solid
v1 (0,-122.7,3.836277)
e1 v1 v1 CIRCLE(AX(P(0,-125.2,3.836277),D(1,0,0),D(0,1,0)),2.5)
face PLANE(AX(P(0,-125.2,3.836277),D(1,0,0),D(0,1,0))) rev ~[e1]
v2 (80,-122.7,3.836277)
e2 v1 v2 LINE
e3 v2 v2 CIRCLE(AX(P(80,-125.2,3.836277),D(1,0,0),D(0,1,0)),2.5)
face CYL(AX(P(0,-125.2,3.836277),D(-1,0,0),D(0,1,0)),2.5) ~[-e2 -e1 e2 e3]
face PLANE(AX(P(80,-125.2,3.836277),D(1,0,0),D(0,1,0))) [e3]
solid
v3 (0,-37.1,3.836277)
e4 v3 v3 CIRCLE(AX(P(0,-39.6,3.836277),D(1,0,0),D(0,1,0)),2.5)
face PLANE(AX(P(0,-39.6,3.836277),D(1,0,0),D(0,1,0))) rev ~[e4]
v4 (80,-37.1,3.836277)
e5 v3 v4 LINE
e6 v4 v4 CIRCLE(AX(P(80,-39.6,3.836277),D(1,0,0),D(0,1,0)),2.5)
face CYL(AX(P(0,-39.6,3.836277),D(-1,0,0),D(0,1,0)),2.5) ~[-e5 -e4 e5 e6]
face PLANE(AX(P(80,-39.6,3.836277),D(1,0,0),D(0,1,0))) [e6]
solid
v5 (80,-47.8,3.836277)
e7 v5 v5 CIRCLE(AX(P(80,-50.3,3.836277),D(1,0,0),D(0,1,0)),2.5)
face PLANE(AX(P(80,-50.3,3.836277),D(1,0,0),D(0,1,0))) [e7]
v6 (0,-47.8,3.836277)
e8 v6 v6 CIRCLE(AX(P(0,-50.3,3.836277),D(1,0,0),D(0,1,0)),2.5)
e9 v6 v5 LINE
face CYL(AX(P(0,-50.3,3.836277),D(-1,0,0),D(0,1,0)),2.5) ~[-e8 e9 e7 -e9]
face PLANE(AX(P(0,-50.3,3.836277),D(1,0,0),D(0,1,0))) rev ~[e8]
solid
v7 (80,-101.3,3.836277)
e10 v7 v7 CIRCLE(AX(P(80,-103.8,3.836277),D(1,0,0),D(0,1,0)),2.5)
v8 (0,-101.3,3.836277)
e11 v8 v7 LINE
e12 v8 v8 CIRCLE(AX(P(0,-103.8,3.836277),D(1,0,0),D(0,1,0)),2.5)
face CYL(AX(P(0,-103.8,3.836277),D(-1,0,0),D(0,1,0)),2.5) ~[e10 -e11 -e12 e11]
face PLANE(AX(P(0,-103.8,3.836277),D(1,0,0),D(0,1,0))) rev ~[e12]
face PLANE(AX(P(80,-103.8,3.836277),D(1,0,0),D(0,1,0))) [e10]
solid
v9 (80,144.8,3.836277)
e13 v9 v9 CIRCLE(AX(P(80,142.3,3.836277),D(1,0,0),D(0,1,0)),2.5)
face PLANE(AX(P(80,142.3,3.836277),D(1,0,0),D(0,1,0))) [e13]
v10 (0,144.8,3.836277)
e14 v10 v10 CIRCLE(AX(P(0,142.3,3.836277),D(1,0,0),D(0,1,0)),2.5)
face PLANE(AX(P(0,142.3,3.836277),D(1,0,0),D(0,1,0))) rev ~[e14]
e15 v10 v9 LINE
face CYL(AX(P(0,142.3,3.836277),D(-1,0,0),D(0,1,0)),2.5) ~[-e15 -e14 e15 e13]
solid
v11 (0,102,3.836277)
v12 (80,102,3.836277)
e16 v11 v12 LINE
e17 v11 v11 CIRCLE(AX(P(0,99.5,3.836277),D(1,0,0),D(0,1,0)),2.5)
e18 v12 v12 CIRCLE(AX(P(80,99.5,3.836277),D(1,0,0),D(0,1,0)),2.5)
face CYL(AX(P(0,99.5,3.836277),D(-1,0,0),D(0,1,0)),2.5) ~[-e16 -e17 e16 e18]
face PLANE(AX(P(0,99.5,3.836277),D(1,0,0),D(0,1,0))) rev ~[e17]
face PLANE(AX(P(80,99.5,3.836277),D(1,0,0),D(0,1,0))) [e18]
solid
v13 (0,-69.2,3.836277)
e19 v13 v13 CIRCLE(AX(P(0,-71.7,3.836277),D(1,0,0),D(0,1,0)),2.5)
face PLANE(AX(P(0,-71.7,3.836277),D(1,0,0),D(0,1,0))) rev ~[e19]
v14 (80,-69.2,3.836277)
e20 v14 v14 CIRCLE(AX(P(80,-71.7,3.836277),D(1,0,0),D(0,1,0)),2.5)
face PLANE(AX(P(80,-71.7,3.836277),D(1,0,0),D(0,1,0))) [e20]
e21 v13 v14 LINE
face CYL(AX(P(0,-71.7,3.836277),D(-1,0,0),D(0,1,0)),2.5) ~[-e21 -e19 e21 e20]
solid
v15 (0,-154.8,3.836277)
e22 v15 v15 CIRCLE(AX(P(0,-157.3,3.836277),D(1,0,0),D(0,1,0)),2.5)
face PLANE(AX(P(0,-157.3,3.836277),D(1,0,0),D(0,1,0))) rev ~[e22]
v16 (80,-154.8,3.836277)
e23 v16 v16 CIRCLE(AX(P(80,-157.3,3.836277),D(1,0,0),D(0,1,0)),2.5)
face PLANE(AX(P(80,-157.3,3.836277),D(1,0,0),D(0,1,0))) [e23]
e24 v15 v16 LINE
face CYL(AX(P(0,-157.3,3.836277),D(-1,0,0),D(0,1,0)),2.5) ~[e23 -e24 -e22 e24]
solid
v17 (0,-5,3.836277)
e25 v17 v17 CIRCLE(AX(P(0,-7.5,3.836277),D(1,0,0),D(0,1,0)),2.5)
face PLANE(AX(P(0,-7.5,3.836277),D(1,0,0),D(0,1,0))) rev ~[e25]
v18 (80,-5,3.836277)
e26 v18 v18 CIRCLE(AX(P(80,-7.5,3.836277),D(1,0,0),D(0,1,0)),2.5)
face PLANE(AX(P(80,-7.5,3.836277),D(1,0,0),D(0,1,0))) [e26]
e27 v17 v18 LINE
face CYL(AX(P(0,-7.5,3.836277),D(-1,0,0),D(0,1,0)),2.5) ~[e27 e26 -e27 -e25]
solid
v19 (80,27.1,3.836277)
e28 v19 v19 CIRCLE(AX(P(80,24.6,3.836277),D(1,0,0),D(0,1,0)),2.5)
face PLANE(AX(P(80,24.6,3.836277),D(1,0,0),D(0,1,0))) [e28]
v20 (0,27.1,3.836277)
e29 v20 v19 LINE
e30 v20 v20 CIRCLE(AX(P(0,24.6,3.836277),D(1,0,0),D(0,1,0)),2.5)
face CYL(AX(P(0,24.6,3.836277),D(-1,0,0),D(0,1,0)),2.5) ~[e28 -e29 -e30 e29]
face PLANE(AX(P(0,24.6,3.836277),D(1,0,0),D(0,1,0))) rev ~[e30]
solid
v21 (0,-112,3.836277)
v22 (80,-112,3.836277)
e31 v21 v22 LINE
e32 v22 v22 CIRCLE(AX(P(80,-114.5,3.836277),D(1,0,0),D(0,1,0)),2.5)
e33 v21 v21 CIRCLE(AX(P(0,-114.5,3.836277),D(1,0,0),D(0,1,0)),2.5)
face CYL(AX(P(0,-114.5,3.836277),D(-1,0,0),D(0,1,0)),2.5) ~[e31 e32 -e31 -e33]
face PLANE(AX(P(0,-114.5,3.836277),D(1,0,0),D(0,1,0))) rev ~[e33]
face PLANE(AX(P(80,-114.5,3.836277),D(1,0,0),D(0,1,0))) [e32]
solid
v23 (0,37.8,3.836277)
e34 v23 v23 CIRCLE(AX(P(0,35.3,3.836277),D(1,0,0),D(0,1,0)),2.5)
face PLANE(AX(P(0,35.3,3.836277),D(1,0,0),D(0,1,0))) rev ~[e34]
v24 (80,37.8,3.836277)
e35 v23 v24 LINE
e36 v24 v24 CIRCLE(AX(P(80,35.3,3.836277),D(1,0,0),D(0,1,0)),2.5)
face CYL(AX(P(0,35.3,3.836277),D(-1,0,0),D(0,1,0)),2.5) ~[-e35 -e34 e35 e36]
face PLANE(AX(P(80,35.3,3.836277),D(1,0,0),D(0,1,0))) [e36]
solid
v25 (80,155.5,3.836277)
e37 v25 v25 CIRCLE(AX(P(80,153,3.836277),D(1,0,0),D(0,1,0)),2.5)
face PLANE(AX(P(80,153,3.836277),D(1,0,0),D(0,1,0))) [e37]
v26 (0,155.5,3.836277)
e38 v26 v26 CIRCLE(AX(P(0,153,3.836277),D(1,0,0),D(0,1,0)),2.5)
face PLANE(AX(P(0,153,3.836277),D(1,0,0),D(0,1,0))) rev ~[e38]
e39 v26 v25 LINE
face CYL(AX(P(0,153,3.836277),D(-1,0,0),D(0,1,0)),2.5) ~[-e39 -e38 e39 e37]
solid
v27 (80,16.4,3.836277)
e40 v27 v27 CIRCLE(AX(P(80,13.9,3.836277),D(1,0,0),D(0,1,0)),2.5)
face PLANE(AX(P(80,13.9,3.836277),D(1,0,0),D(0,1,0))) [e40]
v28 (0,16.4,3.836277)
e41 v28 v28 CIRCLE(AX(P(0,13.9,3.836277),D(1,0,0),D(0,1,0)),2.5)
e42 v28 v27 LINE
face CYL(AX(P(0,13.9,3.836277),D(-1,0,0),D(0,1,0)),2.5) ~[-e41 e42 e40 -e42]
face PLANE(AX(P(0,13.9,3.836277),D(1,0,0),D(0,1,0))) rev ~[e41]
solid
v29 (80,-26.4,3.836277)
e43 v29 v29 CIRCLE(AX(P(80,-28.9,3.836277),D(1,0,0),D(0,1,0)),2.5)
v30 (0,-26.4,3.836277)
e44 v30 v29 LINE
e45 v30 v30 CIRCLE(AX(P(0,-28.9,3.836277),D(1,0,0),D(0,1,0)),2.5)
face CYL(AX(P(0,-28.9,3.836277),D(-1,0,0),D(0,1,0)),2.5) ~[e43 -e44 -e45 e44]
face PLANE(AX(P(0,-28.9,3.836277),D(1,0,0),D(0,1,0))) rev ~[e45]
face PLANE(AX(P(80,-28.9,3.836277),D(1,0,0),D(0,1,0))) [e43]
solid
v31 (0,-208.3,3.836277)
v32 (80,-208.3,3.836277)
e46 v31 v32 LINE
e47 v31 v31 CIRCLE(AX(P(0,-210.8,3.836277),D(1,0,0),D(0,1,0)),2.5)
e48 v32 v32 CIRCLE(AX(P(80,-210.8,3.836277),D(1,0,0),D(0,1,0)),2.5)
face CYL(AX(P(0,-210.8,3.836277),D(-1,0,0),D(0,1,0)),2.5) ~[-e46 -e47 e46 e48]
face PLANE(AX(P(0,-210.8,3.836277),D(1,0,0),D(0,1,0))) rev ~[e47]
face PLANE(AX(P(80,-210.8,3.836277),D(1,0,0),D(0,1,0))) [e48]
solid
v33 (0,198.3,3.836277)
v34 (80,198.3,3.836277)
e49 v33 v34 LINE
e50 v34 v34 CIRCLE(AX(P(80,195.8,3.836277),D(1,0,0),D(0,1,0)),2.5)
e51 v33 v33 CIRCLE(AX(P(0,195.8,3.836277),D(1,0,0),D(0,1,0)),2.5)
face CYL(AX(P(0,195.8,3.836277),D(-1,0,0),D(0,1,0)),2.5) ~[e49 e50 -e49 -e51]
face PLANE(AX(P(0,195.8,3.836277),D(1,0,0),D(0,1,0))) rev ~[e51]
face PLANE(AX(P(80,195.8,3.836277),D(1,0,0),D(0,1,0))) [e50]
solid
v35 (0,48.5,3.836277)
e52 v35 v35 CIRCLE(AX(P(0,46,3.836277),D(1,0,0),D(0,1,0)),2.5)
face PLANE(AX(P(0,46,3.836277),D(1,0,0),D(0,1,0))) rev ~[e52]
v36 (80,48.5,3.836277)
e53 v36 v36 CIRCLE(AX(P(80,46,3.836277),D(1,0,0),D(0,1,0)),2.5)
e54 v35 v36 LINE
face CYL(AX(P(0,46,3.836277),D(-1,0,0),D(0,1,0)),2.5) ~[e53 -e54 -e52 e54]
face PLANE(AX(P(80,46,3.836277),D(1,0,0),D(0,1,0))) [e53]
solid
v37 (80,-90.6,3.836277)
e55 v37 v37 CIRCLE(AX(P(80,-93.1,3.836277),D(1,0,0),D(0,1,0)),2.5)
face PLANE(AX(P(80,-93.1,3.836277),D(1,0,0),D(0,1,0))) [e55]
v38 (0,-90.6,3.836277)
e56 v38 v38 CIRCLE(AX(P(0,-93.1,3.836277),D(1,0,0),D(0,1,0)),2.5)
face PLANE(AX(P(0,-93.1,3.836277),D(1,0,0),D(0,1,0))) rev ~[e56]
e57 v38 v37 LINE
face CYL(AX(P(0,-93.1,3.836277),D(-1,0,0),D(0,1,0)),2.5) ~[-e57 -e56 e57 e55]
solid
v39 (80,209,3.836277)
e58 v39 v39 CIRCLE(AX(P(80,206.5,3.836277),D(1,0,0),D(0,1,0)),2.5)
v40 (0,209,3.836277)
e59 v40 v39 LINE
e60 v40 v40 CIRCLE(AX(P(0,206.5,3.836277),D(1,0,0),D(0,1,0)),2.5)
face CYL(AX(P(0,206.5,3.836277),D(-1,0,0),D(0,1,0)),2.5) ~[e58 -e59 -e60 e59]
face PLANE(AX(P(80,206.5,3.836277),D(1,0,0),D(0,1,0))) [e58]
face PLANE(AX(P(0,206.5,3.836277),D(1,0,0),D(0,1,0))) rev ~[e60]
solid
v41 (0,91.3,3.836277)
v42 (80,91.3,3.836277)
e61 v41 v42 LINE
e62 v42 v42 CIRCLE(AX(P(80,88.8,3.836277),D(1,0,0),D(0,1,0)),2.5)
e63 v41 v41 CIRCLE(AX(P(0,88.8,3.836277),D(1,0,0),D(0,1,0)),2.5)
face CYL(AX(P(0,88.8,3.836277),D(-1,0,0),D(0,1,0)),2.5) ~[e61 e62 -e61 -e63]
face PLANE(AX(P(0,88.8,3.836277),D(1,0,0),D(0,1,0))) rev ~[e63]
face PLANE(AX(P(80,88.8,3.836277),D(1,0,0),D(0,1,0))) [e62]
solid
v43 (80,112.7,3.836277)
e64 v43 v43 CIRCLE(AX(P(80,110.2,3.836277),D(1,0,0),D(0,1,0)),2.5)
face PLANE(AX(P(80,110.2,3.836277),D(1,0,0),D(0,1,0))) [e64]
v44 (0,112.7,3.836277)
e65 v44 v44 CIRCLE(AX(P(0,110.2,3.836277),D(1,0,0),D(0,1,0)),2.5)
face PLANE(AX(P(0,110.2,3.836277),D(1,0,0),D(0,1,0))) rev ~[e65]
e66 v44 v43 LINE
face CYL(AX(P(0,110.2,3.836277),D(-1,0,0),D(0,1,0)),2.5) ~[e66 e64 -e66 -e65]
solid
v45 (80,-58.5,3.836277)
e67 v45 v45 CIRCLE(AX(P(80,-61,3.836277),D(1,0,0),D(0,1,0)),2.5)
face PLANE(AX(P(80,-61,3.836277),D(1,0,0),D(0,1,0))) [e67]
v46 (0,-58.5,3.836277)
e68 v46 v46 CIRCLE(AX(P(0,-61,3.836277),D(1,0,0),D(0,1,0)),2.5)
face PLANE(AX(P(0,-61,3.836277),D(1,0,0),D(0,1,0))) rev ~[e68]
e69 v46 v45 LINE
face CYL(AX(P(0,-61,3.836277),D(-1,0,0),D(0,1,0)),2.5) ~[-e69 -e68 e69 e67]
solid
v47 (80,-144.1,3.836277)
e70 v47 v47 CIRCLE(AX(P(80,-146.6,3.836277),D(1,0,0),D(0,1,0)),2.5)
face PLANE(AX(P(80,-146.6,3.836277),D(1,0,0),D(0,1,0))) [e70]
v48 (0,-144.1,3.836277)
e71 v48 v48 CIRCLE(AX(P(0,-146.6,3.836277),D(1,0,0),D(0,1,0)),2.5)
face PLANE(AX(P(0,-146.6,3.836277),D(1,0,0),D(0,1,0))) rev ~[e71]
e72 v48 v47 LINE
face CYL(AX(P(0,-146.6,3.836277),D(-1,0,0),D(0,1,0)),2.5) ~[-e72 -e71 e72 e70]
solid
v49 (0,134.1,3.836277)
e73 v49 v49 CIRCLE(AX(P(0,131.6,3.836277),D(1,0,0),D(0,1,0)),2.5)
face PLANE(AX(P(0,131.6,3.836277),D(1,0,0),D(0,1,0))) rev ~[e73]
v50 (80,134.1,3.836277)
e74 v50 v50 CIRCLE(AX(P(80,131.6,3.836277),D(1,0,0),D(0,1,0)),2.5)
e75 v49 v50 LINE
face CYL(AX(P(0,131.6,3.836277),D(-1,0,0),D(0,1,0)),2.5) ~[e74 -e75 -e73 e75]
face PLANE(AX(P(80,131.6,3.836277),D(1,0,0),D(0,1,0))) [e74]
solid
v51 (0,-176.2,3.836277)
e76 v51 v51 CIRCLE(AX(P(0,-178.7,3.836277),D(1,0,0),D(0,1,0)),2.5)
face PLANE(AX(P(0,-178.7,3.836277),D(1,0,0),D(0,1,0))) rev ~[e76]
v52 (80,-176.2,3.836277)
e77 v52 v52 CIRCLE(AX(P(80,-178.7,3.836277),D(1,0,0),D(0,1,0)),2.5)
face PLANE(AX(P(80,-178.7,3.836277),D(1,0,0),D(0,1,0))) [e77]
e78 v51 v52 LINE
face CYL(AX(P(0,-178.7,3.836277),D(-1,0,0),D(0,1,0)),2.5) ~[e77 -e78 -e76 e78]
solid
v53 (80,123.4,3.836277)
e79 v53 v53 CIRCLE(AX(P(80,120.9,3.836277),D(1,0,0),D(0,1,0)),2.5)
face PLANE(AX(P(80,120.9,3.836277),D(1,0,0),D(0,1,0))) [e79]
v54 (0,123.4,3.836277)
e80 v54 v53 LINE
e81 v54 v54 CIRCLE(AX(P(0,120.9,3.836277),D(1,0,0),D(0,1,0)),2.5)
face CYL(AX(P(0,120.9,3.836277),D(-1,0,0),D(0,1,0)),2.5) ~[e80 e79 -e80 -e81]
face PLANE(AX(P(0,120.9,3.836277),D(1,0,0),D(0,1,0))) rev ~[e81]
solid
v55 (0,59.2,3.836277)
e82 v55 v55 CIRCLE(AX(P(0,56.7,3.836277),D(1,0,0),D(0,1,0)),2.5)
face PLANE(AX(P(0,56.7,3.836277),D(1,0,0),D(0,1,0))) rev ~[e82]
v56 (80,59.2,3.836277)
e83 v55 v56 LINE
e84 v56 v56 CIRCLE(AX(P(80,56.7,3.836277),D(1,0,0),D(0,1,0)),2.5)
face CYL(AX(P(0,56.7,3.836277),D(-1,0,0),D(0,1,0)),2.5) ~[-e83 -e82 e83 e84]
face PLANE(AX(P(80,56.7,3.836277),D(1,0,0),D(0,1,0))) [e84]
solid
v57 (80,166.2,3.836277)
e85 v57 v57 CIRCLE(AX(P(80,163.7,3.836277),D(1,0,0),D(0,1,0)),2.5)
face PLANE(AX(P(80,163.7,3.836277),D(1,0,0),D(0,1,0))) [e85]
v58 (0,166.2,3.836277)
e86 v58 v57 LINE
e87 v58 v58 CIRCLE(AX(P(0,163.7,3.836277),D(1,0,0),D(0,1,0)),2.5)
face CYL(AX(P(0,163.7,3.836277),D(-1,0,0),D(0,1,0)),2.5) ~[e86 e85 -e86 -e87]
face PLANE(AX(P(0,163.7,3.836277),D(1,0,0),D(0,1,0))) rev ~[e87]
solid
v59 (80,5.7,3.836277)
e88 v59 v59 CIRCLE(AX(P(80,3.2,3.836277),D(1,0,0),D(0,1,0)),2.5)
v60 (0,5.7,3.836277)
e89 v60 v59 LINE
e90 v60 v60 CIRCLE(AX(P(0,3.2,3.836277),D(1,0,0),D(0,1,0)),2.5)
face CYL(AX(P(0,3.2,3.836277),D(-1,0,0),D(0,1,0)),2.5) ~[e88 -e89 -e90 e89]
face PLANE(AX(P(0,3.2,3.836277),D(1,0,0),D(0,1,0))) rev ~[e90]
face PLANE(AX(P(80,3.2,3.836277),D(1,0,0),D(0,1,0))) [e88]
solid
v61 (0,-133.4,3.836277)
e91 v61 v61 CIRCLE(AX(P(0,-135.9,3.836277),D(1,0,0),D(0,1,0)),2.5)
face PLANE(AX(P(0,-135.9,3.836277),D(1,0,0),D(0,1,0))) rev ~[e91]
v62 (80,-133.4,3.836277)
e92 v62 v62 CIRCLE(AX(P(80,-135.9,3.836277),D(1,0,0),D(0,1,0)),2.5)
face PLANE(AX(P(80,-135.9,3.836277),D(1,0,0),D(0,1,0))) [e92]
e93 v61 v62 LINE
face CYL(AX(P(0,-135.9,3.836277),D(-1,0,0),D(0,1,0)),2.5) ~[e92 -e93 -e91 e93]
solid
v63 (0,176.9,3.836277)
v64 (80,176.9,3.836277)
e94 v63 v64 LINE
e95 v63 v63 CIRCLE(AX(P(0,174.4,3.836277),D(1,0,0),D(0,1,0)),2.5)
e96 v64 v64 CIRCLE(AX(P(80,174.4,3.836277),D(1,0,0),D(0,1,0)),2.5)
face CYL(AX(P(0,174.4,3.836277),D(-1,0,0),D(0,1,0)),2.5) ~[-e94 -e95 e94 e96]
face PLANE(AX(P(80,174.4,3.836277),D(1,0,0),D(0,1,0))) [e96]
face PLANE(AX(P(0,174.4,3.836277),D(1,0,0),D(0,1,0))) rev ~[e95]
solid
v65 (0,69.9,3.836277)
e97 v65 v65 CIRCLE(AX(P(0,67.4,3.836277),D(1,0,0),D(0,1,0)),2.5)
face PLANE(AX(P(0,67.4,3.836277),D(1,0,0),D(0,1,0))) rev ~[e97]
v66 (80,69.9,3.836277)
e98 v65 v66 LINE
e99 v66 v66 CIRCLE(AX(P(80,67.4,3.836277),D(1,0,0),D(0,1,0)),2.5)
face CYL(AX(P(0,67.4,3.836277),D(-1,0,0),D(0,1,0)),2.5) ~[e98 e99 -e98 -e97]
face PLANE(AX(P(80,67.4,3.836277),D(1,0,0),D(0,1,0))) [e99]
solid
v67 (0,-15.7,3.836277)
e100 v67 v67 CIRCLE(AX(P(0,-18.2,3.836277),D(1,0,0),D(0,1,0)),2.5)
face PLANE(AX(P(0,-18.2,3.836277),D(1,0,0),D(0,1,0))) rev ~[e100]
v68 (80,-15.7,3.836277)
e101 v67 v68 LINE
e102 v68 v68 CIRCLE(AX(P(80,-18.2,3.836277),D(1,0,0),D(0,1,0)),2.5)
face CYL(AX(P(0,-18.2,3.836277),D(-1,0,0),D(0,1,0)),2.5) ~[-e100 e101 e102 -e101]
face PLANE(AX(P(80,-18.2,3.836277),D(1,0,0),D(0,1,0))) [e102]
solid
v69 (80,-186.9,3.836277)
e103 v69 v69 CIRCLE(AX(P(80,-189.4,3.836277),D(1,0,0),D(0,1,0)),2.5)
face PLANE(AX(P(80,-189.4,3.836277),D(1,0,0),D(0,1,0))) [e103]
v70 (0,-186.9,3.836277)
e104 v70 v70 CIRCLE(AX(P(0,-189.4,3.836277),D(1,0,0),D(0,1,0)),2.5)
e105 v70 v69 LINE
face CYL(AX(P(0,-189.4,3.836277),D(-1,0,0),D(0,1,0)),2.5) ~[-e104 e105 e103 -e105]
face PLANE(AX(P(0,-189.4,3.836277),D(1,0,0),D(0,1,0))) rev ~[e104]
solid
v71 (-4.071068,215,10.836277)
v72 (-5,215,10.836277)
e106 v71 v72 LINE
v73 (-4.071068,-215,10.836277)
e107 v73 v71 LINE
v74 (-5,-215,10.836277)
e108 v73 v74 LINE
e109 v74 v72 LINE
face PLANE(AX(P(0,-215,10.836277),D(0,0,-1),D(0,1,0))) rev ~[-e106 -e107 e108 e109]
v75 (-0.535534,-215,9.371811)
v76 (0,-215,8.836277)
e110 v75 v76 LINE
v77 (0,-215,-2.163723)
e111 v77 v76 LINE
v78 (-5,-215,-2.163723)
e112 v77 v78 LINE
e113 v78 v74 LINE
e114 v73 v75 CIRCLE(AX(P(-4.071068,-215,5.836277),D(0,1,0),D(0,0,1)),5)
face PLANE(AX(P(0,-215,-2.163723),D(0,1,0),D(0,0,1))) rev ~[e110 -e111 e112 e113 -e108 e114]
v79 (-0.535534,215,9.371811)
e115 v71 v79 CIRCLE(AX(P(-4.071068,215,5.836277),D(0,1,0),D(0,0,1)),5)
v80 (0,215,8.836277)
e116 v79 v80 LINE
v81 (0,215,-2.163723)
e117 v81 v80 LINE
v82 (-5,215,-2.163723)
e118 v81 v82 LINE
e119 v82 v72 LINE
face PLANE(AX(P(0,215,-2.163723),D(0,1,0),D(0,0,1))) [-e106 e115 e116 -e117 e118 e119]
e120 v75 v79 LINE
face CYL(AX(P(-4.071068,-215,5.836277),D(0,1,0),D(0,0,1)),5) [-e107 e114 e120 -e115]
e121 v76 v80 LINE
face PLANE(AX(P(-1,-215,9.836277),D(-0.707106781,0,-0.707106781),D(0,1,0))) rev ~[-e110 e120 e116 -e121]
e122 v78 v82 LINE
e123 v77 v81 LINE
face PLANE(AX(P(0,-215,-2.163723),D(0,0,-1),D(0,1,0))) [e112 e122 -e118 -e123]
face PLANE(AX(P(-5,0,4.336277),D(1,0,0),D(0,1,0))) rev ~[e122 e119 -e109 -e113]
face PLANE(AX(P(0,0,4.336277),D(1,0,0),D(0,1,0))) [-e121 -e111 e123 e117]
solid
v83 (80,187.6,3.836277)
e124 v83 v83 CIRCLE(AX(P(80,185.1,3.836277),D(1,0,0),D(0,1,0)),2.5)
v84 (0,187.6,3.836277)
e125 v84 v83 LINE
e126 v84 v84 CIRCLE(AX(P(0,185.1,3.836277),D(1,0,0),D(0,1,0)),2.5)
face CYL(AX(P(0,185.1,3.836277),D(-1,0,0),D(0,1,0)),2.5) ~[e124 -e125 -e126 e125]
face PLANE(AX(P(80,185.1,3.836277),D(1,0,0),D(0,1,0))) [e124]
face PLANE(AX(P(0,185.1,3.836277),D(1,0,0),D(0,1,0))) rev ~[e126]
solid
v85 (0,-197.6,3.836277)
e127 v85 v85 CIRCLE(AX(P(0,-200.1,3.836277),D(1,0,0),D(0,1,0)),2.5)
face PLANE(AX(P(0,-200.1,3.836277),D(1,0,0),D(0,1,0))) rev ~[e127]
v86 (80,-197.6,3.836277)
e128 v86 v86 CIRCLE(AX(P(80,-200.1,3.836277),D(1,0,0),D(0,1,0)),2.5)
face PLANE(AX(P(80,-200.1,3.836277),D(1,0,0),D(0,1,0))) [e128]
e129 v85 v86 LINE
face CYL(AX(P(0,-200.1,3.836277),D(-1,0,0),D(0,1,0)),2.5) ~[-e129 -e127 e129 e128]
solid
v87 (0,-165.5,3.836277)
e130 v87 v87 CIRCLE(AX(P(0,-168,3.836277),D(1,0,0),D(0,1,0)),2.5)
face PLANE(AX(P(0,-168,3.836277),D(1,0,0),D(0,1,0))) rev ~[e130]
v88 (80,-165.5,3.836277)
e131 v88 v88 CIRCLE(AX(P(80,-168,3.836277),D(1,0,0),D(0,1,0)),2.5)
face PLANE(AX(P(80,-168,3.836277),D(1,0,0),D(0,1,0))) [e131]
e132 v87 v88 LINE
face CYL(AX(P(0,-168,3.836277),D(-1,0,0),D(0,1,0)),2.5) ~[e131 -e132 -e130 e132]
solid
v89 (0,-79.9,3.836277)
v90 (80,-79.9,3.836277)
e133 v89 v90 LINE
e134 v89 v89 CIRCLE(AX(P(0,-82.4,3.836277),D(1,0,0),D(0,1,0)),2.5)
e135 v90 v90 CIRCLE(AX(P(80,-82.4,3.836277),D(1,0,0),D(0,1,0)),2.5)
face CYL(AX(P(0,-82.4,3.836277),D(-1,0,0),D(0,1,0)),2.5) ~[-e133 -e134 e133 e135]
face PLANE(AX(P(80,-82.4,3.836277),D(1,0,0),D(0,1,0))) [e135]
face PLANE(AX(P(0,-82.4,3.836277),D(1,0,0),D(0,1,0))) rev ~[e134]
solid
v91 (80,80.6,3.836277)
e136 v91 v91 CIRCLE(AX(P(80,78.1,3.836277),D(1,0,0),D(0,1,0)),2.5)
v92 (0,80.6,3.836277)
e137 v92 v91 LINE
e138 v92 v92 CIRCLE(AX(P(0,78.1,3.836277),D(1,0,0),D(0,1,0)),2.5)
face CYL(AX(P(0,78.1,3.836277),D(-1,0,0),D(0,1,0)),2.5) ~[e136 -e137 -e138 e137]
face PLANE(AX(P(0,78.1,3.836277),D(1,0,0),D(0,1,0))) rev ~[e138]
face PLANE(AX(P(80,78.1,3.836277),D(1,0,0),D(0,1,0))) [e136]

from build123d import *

# Parameters (mm, degrees)
F0_R     = 2.5
F1_DEPTH = 80
F0_W     = 430
F0_H     = 13
F2_DEPTH = 5
F3_SIZE  = 2
F4_R     = 5


with BuildPart() as f1:
    # F0 (on Right) → F1 (new body)
    with BuildSketch(Plane.YZ):
        with Locations((-200.1, 3.8362770776)):
            Circle(F0_R)
    extrude(amount=F1_DEPTH)


with BuildPart() as f1b:
    # F0 (on Right) → F1, piece 2 (new body)
    with BuildSketch(Plane.YZ):
        with Locations((-210.8, 3.8362770776)):
            Circle(F0_R)
    extrude(amount=F1_DEPTH)


with BuildPart() as f1c:
    # F0 (on Right) → F1, piece 3 (new body)
    with BuildSketch(Plane.YZ):
        with Locations((-189.4, 3.8362770776)):
            Circle(F0_R)
    extrude(amount=F1_DEPTH)


with BuildPart() as f1d:
    # F0 (on Right) → F1, piece 4 (new body)
    with BuildSketch(Plane.YZ):
        with Locations((-178.7, 3.8362770776)):
            Circle(F0_R)
    extrude(amount=F1_DEPTH)


with BuildPart() as f1e:
    # F0 (on Right) → F1, piece 5 (new body)
    with BuildSketch(Plane.YZ):
        with Locations((-168, 3.8362770776)):
            Circle(F0_R)
    extrude(amount=F1_DEPTH)


with BuildPart() as f1f:
    # F0 (on Right) → F1, piece 6 (new body)
    with BuildSketch(Plane.YZ):
        with Locations((-157.3, 3.8362770776)):
            Circle(F0_R)
    extrude(amount=F1_DEPTH)


with BuildPart() as f1g:
    # F0 (on Right) → F1, piece 7 (new body)
    with BuildSketch(Plane.YZ):
        with Locations((-146.6, 3.8362770776)):
            Circle(F0_R)
    extrude(amount=F1_DEPTH)


with BuildPart() as f1h:
    # F0 (on Right) → F1, piece 8 (new body)
    with BuildSketch(Plane.YZ):
        with Locations((-135.9, 3.8362770776)):
            Circle(F0_R)
    extrude(amount=F1_DEPTH)


with BuildPart() as f1i:
    # F0 (on Right) → F1, piece 9 (new body)
    with BuildSketch(Plane.YZ):
        with Locations((-125.2, 3.8362770776)):
            Circle(F0_R)
    extrude(amount=F1_DEPTH)


with BuildPart() as f1j:
    # F0 (on Right) → F1, piece 10 (new body)
    with BuildSketch(Plane.YZ):
        with Locations((-114.5, 3.8362770776)):
            Circle(F0_R)
    extrude(amount=F1_DEPTH)


with BuildPart() as f1k:
    # F0 (on Right) → F1, piece 11 (new body)
    with BuildSketch(Plane.YZ):
        with Locations((-103.8, 3.8362770776)):
            Circle(F0_R)
    extrude(amount=F1_DEPTH)


with BuildPart() as f1l:
    # F0 (on Right) → F1, piece 12 (new body)
    with BuildSketch(Plane.YZ):
        with Locations((-93.1, 3.8362770776)):
            Circle(F0_R)
    extrude(amount=F1_DEPTH)


with BuildPart() as f1m:
    # F0 (on Right) → F1, piece 13 (new body)
    with BuildSketch(Plane.YZ):
        with Locations((-82.4, 3.8362770776)):
            Circle(F0_R)
    extrude(amount=F1_DEPTH)


with BuildPart() as f1n:
    # F0 (on Right) → F1, piece 14 (new body)
    with BuildSketch(Plane.YZ):
        with Locations((-71.7, 3.8362770776)):
            Circle(F0_R)
    extrude(amount=F1_DEPTH)


with BuildPart() as f1o:
    # F0 (on Right) → F1, piece 15 (new body)
    with BuildSketch(Plane.YZ):
        with Locations((-61, 3.8362770776)):
            Circle(F0_R)
    extrude(amount=F1_DEPTH)


with BuildPart() as f1p:
    # F0 (on Right) → F1, piece 16 (new body)
    with BuildSketch(Plane.YZ):
        with Locations((-50.3, 3.8362770776)):
            Circle(F0_R)
    extrude(amount=F1_DEPTH)


with BuildPart() as f1q:
    # F0 (on Right) → F1, piece 17 (new body)
    with BuildSketch(Plane.YZ):
        with Locations((-39.6, 3.8362770776)):
            Circle(F0_R)
    extrude(amount=F1_DEPTH)


with BuildPart() as f1r:
    # F0 (on Right) → F1, piece 18 (new body)
    with BuildSketch(Plane.YZ):
        with Locations((-28.9, 3.8362770776)):
            Circle(F0_R)
    extrude(amount=F1_DEPTH)


with BuildPart() as f1s:
    # F0 (on Right) → F1, piece 19 (new body)
    with BuildSketch(Plane.YZ):
        with Locations((-18.2, 3.8362770776)):
            Circle(F0_R)
    extrude(amount=F1_DEPTH)


with BuildPart() as f1t:
    # F0 (on Right) → F1, piece 20 (new body)
    with BuildSketch(Plane.YZ):
        with Locations((-7.5, 3.8362770776)):
            Circle(F0_R)
    extrude(amount=F1_DEPTH)


with BuildPart() as f1u:
    # F0 (on Right) → F1, piece 21 (new body)
    with BuildSketch(Plane.YZ):
        with Locations((3.2, 3.8362770776)):
            Circle(F0_R)
    extrude(amount=F1_DEPTH)


with BuildPart() as f1v:
    # F0 (on Right) → F1, piece 22 (new body)
    with BuildSketch(Plane.YZ):
        with Locations((13.9, 3.8362770776)):
            Circle(F0_R)
    extrude(amount=F1_DEPTH)


with BuildPart() as f1w:
    # F0 (on Right) → F1, piece 23 (new body)
    with BuildSketch(Plane.YZ):
        with Locations((24.6, 3.8362770776)):
            Circle(F0_R)
    extrude(amount=F1_DEPTH)


with BuildPart() as f1x:
    # F0 (on Right) → F1, piece 24 (new body)
    with BuildSketch(Plane.YZ):
        with Locations((35.3, 3.8362770776)):
            Circle(F0_R)
    extrude(amount=F1_DEPTH)


with BuildPart() as f1y:
    # F0 (on Right) → F1, piece 25 (new body)
    with BuildSketch(Plane.YZ):
        with Locations((46, 3.8362770776)):
            Circle(F0_R)
    extrude(amount=F1_DEPTH)


with BuildPart() as f1z:
    # F0 (on Right) → F1, piece 26 (new body)
    with BuildSketch(Plane.YZ):
        with Locations((56.7, 3.8362770776)):
            Circle(F0_R)
    extrude(amount=F1_DEPTH)


with BuildPart() as f1ba:
    # F0 (on Right) → F1, piece 27 (new body)
    with BuildSketch(Plane.YZ):
        with Locations((67.4, 3.8362770776)):
            Circle(F0_R)
    extrude(amount=F1_DEPTH)


with BuildPart() as f1bb:
    # F0 (on Right) → F1, piece 28 (new body)
    with BuildSketch(Plane.YZ):
        with Locations((78.1, 3.8362770776)):
            Circle(F0_R)
    extrude(amount=F1_DEPTH)


with BuildPart() as f1bc:
    # F0 (on Right) → F1, piece 29 (new body)
    with BuildSketch(Plane.YZ):
        with Locations((88.8, 3.8362770776)):
            Circle(F0_R)
    extrude(amount=F1_DEPTH)


with BuildPart() as f1bd:
    # F0 (on Right) → F1, piece 30 (new body)
    with BuildSketch(Plane.YZ):
        with Locations((99.5, 3.8362770776)):
            Circle(F0_R)
    extrude(amount=F1_DEPTH)


with BuildPart() as f1be:
    # F0 (on Right) → F1, piece 31 (new body)
    with BuildSketch(Plane.YZ):
        with Locations((110.2, 3.8362770776)):
            Circle(F0_R)
    extrude(amount=F1_DEPTH)


with BuildPart() as f1bf:
    # F0 (on Right) → F1, piece 32 (new body)
    with BuildSketch(Plane.YZ):
        with Locations((120.9, 3.8362770776)):
            Circle(F0_R)
    extrude(amount=F1_DEPTH)


with BuildPart() as f1bg:
    # F0 (on Right) → F1, piece 33 (new body)
    with BuildSketch(Plane.YZ):
        with Locations((131.6, 3.8362770776)):
            Circle(F0_R)
    extrude(amount=F1_DEPTH)


with BuildPart() as f1bh:
    # F0 (on Right) → F1, piece 34 (new body)
    with BuildSketch(Plane.YZ):
        with Locations((142.3, 3.8362770776)):
            Circle(F0_R)
    extrude(amount=F1_DEPTH)


with BuildPart() as f1bi:
    # F0 (on Right) → F1, piece 35 (new body)
    with BuildSketch(Plane.YZ):
        with Locations((153, 3.8362770776)):
            Circle(F0_R)
    extrude(amount=F1_DEPTH)


with BuildPart() as f1bj:
    # F0 (on Right) → F1, piece 36 (new body)
    with BuildSketch(Plane.YZ):
        with Locations((163.7, 3.8362770776)):
            Circle(F0_R)
    extrude(amount=F1_DEPTH)


with BuildPart() as f1bk:
    # F0 (on Right) → F1, piece 37 (new body)
    with BuildSketch(Plane.YZ):
        with Locations((174.4, 3.8362770776)):
            Circle(F0_R)
    extrude(amount=F1_DEPTH)


with BuildPart() as f1bl:
    # F0 (on Right) → F1, piece 38 (new body)
    with BuildSketch(Plane.YZ):
        with Locations((185.1, 3.8362770776)):
            Circle(F0_R)
    extrude(amount=F1_DEPTH)


with BuildPart() as f1bm:
    # F0 (on Right) → F1, piece 39 (new body)
    with BuildSketch(Plane.YZ):
        with Locations((195.8, 3.8362770776)):
            Circle(F0_R)
    extrude(amount=F1_DEPTH)


with BuildPart() as f1bn:
    # F0 (on Right) → F1, piece 40 (new body)
    with BuildSketch(Plane.YZ):
        with Locations((206.5, 3.8362770776)):
            Circle(F0_R)
    extrude(amount=F1_DEPTH)


with BuildPart() as f2:
    # F0 (on Right) → F2 (new body)
    with BuildSketch(Plane.YZ):
        with Locations((0, 4.3362770776)):
            Rectangle(F0_W, F0_H)
        with Locations((-210.8, 3.8362770776)):
            Circle(F0_R, mode=Mode.SUBTRACT)
        with Locations((-200.1, 3.8362770776)):
            Circle(F0_R, mode=Mode.SUBTRACT)
        with Locations((-189.4, 3.8362770776)):
            Circle(F0_R, mode=Mode.SUBTRACT)
        with Locations((-178.7, 3.8362770776)):
            Circle(F0_R, mode=Mode.SUBTRACT)
        with Locations((-168, 3.8362770776)):
            Circle(F0_R, mode=Mode.SUBTRACT)
        with Locations((-157.3, 3.8362770776)):
            Circle(F0_R, mode=Mode.SUBTRACT)
        with Locations((-146.6, 3.8362770776)):
            Circle(F0_R, mode=Mode.SUBTRACT)
        with Locations((-135.9, 3.8362770776)):
            Circle(F0_R, mode=Mode.SUBTRACT)
        with Locations((-125.2, 3.8362770776)):
            Circle(F0_R, mode=Mode.SUBTRACT)
        with Locations((-114.5, 3.8362770776)):
            Circle(F0_R, mode=Mode.SUBTRACT)
        with Locations((-103.8, 3.8362770776)):
            Circle(F0_R, mode=Mode.SUBTRACT)
        with Locations((-93.1, 3.8362770776)):
            Circle(F0_R, mode=Mode.SUBTRACT)
        with Locations((-82.4, 3.8362770776)):
            Circle(F0_R, mode=Mode.SUBTRACT)
        with Locations((-71.7, 3.8362770776)):
            Circle(F0_R, mode=Mode.SUBTRACT)
        with Locations((-61, 3.8362770776)):
            Circle(F0_R, mode=Mode.SUBTRACT)
        with Locations((-50.3, 3.8362770776)):
            Circle(F0_R, mode=Mode.SUBTRACT)
        with Locations((-39.6, 3.8362770776)):
            Circle(F0_R, mode=Mode.SUBTRACT)
        with Locations((-28.9, 3.8362770776)):
            Circle(F0_R, mode=Mode.SUBTRACT)
        with Locations((-18.2, 3.8362770776)):
            Circle(F0_R, mode=Mode.SUBTRACT)
        with Locations((-7.5, 3.8362770776)):
            Circle(F0_R, mode=Mode.SUBTRACT)
        with Locations((3.2, 3.8362770776)):
            Circle(F0_R, mode=Mode.SUBTRACT)
        with Locations((13.9, 3.8362770776)):
            Circle(F0_R, mode=Mode.SUBTRACT)
        with Locations((24.6, 3.8362770776)):
            Circle(F0_R, mode=Mode.SUBTRACT)
        with Locations((35.3, 3.8362770776)):
            Circle(F0_R, mode=Mode.SUBTRACT)
        with Locations((46, 3.8362770776)):
            Circle(F0_R, mode=Mode.SUBTRACT)
        with Locations((56.7, 3.8362770776)):
            Circle(F0_R, mode=Mode.SUBTRACT)
        with Locations((67.4, 3.8362770776)):
            Circle(F0_R, mode=Mode.SUBTRACT)
        with Locations((78.1, 3.8362770776)):
            Circle(F0_R, mode=Mode.SUBTRACT)
        with Locations((88.8, 3.8362770776)):
            Circle(F0_R, mode=Mode.SUBTRACT)
        with Locations((99.5, 3.8362770776)):
            Circle(F0_R, mode=Mode.SUBTRACT)
        with Locations((110.2, 3.8362770776)):
            Circle(F0_R, mode=Mode.SUBTRACT)
        with Locations((120.9, 3.8362770776)):
            Circle(F0_R, mode=Mode.SUBTRACT)
        with Locations((131.6, 3.8362770776)):
            Circle(F0_R, mode=Mode.SUBTRACT)
        with Locations((142.3, 3.8362770776)):
            Circle(F0_R, mode=Mode.SUBTRACT)
        with Locations((153, 3.8362770776)):
            Circle(F0_R, mode=Mode.SUBTRACT)
        with Locations((163.7, 3.8362770776)):
            Circle(F0_R, mode=Mode.SUBTRACT)
        with Locations((174.4, 3.8362770776)):
            Circle(F0_R, mode=Mode.SUBTRACT)
        with Locations((185.1, 3.8362770776)):
            Circle(F0_R, mode=Mode.SUBTRACT)
        with Locations((195.8, 3.8362770776)):
            Circle(F0_R, mode=Mode.SUBTRACT)
        with Locations((206.5, 3.8362770776)):
            Circle(F0_R, mode=Mode.SUBTRACT)
        with Locations((206.5, 3.8362770776)):
            Circle(F0_R)
        with Locations((195.8, 3.8362770776)):
            Circle(F0_R)
        with Locations((185.1, 3.8362770776)):
            Circle(F0_R)
        with Locations((174.4, 3.8362770776)):
            Circle(F0_R)
        with Locations((163.7, 3.8362770776)):
            Circle(F0_R)
        with Locations((153, 3.8362770776)):
            Circle(F0_R)
        with Locations((142.3, 3.8362770776)):
            Circle(F0_R)
        with Locations((131.6, 3.8362770776)):
            Circle(F0_R)
        with Locations((120.9, 3.8362770776)):
            Circle(F0_R)
        with Locations((110.2, 3.8362770776)):
            Circle(F0_R)
        with Locations((99.5, 3.8362770776)):
            Circle(F0_R)
        with Locations((88.8, 3.8362770776)):
            Circle(F0_R)
        with Locations((78.1, 3.8362770776)):
            Circle(F0_R)
        with Locations((67.4, 3.8362770776)):
            Circle(F0_R)
        with Locations((56.7, 3.8362770776)):
            Circle(F0_R)
        with Locations((46, 3.8362770776)):
            Circle(F0_R)
        with Locations((35.3, 3.8362770776)):
            Circle(F0_R)
        with Locations((24.6, 3.8362770776)):
            Circle(F0_R)
        with Locations((13.9, 3.8362770776)):
            Circle(F0_R)
        with Locations((3.2, 3.8362770776)):
            Circle(F0_R)
        with Locations((-7.5, 3.8362770776)):
            Circle(F0_R)
        with Locations((-18.2, 3.8362770776)):
            Circle(F0_R)
        with Locations((-28.9, 3.8362770776)):
            Circle(F0_R)
        with Locations((-39.6, 3.8362770776)):
            Circle(F0_R)
        with Locations((-50.3, 3.8362770776)):
            Circle(F0_R)
        with Locations((-61, 3.8362770776)):
            Circle(F0_R)
        with Locations((-71.7, 3.8362770776)):
            Circle(F0_R)
        with Locations((-82.4, 3.8362770776)):
            Circle(F0_R)
        with Locations((-93.1, 3.8362770776)):
            Circle(F0_R)
        with Locations((-103.8, 3.8362770776)):
            Circle(F0_R)
        with Locations((-114.5, 3.8362770776)):
            Circle(F0_R)
        with Locations((-125.2, 3.8362770776)):
            Circle(F0_R)
        with Locations((-135.9, 3.8362770776)):
            Circle(F0_R)
        with Locations((-146.6, 3.8362770776)):
            Circle(F0_R)
        with Locations((-157.3, 3.8362770776)):
            Circle(F0_R)
        with Locations((-168, 3.8362770776)):
            Circle(F0_R)
        with Locations((-178.7, 3.8362770776)):
            Circle(F0_R)
        with Locations((-189.4, 3.8362770776)):
            Circle(F0_R)
        with Locations((-200.1, 3.8362770776)):
            Circle(F0_R)
        with Locations((-210.8, 3.8362770776)):
            Circle(F0_R)
    extrude(amount=-F2_DEPTH)

    # F3
    f3_edges = [f2.edges().sort_by_distance(p)[0] for p in [
        (0, 0, 10.836277),
    ]]
    chamfer(f3_edges, length=F3_SIZE)

    # F4
    f4_edges = [f2.edges().sort_by_distance(p)[0] for p in [
        (-2, 0, 10.836277),
    ]]
    fillet(f4_edges, radius=F4_R)


solid = Compound([f1.part, f1b.part, f1c.part, f1d.part, f1e.part, f1f.part, f1g.part, f1h.part, f1i.part, f1j.part, f1k.part, f1l.part, f1m.part, f1n.part, f1o.part, f1p.part, f1q.part, f1r.part, f1s.part, f1t.part, f1u.part, f1v.part, f1w.part, f1x.part, f1y.part, f1z.part, f1ba.part, f1bb.part, f1bc.part, f1bd.part, f1be.part, f1bf.part, f1bg.part, f1bh.part, f1bi.part, f1bj.part, f1bk.part, f1bl.part, f1bm.part, f1bn.part, f2.part])
